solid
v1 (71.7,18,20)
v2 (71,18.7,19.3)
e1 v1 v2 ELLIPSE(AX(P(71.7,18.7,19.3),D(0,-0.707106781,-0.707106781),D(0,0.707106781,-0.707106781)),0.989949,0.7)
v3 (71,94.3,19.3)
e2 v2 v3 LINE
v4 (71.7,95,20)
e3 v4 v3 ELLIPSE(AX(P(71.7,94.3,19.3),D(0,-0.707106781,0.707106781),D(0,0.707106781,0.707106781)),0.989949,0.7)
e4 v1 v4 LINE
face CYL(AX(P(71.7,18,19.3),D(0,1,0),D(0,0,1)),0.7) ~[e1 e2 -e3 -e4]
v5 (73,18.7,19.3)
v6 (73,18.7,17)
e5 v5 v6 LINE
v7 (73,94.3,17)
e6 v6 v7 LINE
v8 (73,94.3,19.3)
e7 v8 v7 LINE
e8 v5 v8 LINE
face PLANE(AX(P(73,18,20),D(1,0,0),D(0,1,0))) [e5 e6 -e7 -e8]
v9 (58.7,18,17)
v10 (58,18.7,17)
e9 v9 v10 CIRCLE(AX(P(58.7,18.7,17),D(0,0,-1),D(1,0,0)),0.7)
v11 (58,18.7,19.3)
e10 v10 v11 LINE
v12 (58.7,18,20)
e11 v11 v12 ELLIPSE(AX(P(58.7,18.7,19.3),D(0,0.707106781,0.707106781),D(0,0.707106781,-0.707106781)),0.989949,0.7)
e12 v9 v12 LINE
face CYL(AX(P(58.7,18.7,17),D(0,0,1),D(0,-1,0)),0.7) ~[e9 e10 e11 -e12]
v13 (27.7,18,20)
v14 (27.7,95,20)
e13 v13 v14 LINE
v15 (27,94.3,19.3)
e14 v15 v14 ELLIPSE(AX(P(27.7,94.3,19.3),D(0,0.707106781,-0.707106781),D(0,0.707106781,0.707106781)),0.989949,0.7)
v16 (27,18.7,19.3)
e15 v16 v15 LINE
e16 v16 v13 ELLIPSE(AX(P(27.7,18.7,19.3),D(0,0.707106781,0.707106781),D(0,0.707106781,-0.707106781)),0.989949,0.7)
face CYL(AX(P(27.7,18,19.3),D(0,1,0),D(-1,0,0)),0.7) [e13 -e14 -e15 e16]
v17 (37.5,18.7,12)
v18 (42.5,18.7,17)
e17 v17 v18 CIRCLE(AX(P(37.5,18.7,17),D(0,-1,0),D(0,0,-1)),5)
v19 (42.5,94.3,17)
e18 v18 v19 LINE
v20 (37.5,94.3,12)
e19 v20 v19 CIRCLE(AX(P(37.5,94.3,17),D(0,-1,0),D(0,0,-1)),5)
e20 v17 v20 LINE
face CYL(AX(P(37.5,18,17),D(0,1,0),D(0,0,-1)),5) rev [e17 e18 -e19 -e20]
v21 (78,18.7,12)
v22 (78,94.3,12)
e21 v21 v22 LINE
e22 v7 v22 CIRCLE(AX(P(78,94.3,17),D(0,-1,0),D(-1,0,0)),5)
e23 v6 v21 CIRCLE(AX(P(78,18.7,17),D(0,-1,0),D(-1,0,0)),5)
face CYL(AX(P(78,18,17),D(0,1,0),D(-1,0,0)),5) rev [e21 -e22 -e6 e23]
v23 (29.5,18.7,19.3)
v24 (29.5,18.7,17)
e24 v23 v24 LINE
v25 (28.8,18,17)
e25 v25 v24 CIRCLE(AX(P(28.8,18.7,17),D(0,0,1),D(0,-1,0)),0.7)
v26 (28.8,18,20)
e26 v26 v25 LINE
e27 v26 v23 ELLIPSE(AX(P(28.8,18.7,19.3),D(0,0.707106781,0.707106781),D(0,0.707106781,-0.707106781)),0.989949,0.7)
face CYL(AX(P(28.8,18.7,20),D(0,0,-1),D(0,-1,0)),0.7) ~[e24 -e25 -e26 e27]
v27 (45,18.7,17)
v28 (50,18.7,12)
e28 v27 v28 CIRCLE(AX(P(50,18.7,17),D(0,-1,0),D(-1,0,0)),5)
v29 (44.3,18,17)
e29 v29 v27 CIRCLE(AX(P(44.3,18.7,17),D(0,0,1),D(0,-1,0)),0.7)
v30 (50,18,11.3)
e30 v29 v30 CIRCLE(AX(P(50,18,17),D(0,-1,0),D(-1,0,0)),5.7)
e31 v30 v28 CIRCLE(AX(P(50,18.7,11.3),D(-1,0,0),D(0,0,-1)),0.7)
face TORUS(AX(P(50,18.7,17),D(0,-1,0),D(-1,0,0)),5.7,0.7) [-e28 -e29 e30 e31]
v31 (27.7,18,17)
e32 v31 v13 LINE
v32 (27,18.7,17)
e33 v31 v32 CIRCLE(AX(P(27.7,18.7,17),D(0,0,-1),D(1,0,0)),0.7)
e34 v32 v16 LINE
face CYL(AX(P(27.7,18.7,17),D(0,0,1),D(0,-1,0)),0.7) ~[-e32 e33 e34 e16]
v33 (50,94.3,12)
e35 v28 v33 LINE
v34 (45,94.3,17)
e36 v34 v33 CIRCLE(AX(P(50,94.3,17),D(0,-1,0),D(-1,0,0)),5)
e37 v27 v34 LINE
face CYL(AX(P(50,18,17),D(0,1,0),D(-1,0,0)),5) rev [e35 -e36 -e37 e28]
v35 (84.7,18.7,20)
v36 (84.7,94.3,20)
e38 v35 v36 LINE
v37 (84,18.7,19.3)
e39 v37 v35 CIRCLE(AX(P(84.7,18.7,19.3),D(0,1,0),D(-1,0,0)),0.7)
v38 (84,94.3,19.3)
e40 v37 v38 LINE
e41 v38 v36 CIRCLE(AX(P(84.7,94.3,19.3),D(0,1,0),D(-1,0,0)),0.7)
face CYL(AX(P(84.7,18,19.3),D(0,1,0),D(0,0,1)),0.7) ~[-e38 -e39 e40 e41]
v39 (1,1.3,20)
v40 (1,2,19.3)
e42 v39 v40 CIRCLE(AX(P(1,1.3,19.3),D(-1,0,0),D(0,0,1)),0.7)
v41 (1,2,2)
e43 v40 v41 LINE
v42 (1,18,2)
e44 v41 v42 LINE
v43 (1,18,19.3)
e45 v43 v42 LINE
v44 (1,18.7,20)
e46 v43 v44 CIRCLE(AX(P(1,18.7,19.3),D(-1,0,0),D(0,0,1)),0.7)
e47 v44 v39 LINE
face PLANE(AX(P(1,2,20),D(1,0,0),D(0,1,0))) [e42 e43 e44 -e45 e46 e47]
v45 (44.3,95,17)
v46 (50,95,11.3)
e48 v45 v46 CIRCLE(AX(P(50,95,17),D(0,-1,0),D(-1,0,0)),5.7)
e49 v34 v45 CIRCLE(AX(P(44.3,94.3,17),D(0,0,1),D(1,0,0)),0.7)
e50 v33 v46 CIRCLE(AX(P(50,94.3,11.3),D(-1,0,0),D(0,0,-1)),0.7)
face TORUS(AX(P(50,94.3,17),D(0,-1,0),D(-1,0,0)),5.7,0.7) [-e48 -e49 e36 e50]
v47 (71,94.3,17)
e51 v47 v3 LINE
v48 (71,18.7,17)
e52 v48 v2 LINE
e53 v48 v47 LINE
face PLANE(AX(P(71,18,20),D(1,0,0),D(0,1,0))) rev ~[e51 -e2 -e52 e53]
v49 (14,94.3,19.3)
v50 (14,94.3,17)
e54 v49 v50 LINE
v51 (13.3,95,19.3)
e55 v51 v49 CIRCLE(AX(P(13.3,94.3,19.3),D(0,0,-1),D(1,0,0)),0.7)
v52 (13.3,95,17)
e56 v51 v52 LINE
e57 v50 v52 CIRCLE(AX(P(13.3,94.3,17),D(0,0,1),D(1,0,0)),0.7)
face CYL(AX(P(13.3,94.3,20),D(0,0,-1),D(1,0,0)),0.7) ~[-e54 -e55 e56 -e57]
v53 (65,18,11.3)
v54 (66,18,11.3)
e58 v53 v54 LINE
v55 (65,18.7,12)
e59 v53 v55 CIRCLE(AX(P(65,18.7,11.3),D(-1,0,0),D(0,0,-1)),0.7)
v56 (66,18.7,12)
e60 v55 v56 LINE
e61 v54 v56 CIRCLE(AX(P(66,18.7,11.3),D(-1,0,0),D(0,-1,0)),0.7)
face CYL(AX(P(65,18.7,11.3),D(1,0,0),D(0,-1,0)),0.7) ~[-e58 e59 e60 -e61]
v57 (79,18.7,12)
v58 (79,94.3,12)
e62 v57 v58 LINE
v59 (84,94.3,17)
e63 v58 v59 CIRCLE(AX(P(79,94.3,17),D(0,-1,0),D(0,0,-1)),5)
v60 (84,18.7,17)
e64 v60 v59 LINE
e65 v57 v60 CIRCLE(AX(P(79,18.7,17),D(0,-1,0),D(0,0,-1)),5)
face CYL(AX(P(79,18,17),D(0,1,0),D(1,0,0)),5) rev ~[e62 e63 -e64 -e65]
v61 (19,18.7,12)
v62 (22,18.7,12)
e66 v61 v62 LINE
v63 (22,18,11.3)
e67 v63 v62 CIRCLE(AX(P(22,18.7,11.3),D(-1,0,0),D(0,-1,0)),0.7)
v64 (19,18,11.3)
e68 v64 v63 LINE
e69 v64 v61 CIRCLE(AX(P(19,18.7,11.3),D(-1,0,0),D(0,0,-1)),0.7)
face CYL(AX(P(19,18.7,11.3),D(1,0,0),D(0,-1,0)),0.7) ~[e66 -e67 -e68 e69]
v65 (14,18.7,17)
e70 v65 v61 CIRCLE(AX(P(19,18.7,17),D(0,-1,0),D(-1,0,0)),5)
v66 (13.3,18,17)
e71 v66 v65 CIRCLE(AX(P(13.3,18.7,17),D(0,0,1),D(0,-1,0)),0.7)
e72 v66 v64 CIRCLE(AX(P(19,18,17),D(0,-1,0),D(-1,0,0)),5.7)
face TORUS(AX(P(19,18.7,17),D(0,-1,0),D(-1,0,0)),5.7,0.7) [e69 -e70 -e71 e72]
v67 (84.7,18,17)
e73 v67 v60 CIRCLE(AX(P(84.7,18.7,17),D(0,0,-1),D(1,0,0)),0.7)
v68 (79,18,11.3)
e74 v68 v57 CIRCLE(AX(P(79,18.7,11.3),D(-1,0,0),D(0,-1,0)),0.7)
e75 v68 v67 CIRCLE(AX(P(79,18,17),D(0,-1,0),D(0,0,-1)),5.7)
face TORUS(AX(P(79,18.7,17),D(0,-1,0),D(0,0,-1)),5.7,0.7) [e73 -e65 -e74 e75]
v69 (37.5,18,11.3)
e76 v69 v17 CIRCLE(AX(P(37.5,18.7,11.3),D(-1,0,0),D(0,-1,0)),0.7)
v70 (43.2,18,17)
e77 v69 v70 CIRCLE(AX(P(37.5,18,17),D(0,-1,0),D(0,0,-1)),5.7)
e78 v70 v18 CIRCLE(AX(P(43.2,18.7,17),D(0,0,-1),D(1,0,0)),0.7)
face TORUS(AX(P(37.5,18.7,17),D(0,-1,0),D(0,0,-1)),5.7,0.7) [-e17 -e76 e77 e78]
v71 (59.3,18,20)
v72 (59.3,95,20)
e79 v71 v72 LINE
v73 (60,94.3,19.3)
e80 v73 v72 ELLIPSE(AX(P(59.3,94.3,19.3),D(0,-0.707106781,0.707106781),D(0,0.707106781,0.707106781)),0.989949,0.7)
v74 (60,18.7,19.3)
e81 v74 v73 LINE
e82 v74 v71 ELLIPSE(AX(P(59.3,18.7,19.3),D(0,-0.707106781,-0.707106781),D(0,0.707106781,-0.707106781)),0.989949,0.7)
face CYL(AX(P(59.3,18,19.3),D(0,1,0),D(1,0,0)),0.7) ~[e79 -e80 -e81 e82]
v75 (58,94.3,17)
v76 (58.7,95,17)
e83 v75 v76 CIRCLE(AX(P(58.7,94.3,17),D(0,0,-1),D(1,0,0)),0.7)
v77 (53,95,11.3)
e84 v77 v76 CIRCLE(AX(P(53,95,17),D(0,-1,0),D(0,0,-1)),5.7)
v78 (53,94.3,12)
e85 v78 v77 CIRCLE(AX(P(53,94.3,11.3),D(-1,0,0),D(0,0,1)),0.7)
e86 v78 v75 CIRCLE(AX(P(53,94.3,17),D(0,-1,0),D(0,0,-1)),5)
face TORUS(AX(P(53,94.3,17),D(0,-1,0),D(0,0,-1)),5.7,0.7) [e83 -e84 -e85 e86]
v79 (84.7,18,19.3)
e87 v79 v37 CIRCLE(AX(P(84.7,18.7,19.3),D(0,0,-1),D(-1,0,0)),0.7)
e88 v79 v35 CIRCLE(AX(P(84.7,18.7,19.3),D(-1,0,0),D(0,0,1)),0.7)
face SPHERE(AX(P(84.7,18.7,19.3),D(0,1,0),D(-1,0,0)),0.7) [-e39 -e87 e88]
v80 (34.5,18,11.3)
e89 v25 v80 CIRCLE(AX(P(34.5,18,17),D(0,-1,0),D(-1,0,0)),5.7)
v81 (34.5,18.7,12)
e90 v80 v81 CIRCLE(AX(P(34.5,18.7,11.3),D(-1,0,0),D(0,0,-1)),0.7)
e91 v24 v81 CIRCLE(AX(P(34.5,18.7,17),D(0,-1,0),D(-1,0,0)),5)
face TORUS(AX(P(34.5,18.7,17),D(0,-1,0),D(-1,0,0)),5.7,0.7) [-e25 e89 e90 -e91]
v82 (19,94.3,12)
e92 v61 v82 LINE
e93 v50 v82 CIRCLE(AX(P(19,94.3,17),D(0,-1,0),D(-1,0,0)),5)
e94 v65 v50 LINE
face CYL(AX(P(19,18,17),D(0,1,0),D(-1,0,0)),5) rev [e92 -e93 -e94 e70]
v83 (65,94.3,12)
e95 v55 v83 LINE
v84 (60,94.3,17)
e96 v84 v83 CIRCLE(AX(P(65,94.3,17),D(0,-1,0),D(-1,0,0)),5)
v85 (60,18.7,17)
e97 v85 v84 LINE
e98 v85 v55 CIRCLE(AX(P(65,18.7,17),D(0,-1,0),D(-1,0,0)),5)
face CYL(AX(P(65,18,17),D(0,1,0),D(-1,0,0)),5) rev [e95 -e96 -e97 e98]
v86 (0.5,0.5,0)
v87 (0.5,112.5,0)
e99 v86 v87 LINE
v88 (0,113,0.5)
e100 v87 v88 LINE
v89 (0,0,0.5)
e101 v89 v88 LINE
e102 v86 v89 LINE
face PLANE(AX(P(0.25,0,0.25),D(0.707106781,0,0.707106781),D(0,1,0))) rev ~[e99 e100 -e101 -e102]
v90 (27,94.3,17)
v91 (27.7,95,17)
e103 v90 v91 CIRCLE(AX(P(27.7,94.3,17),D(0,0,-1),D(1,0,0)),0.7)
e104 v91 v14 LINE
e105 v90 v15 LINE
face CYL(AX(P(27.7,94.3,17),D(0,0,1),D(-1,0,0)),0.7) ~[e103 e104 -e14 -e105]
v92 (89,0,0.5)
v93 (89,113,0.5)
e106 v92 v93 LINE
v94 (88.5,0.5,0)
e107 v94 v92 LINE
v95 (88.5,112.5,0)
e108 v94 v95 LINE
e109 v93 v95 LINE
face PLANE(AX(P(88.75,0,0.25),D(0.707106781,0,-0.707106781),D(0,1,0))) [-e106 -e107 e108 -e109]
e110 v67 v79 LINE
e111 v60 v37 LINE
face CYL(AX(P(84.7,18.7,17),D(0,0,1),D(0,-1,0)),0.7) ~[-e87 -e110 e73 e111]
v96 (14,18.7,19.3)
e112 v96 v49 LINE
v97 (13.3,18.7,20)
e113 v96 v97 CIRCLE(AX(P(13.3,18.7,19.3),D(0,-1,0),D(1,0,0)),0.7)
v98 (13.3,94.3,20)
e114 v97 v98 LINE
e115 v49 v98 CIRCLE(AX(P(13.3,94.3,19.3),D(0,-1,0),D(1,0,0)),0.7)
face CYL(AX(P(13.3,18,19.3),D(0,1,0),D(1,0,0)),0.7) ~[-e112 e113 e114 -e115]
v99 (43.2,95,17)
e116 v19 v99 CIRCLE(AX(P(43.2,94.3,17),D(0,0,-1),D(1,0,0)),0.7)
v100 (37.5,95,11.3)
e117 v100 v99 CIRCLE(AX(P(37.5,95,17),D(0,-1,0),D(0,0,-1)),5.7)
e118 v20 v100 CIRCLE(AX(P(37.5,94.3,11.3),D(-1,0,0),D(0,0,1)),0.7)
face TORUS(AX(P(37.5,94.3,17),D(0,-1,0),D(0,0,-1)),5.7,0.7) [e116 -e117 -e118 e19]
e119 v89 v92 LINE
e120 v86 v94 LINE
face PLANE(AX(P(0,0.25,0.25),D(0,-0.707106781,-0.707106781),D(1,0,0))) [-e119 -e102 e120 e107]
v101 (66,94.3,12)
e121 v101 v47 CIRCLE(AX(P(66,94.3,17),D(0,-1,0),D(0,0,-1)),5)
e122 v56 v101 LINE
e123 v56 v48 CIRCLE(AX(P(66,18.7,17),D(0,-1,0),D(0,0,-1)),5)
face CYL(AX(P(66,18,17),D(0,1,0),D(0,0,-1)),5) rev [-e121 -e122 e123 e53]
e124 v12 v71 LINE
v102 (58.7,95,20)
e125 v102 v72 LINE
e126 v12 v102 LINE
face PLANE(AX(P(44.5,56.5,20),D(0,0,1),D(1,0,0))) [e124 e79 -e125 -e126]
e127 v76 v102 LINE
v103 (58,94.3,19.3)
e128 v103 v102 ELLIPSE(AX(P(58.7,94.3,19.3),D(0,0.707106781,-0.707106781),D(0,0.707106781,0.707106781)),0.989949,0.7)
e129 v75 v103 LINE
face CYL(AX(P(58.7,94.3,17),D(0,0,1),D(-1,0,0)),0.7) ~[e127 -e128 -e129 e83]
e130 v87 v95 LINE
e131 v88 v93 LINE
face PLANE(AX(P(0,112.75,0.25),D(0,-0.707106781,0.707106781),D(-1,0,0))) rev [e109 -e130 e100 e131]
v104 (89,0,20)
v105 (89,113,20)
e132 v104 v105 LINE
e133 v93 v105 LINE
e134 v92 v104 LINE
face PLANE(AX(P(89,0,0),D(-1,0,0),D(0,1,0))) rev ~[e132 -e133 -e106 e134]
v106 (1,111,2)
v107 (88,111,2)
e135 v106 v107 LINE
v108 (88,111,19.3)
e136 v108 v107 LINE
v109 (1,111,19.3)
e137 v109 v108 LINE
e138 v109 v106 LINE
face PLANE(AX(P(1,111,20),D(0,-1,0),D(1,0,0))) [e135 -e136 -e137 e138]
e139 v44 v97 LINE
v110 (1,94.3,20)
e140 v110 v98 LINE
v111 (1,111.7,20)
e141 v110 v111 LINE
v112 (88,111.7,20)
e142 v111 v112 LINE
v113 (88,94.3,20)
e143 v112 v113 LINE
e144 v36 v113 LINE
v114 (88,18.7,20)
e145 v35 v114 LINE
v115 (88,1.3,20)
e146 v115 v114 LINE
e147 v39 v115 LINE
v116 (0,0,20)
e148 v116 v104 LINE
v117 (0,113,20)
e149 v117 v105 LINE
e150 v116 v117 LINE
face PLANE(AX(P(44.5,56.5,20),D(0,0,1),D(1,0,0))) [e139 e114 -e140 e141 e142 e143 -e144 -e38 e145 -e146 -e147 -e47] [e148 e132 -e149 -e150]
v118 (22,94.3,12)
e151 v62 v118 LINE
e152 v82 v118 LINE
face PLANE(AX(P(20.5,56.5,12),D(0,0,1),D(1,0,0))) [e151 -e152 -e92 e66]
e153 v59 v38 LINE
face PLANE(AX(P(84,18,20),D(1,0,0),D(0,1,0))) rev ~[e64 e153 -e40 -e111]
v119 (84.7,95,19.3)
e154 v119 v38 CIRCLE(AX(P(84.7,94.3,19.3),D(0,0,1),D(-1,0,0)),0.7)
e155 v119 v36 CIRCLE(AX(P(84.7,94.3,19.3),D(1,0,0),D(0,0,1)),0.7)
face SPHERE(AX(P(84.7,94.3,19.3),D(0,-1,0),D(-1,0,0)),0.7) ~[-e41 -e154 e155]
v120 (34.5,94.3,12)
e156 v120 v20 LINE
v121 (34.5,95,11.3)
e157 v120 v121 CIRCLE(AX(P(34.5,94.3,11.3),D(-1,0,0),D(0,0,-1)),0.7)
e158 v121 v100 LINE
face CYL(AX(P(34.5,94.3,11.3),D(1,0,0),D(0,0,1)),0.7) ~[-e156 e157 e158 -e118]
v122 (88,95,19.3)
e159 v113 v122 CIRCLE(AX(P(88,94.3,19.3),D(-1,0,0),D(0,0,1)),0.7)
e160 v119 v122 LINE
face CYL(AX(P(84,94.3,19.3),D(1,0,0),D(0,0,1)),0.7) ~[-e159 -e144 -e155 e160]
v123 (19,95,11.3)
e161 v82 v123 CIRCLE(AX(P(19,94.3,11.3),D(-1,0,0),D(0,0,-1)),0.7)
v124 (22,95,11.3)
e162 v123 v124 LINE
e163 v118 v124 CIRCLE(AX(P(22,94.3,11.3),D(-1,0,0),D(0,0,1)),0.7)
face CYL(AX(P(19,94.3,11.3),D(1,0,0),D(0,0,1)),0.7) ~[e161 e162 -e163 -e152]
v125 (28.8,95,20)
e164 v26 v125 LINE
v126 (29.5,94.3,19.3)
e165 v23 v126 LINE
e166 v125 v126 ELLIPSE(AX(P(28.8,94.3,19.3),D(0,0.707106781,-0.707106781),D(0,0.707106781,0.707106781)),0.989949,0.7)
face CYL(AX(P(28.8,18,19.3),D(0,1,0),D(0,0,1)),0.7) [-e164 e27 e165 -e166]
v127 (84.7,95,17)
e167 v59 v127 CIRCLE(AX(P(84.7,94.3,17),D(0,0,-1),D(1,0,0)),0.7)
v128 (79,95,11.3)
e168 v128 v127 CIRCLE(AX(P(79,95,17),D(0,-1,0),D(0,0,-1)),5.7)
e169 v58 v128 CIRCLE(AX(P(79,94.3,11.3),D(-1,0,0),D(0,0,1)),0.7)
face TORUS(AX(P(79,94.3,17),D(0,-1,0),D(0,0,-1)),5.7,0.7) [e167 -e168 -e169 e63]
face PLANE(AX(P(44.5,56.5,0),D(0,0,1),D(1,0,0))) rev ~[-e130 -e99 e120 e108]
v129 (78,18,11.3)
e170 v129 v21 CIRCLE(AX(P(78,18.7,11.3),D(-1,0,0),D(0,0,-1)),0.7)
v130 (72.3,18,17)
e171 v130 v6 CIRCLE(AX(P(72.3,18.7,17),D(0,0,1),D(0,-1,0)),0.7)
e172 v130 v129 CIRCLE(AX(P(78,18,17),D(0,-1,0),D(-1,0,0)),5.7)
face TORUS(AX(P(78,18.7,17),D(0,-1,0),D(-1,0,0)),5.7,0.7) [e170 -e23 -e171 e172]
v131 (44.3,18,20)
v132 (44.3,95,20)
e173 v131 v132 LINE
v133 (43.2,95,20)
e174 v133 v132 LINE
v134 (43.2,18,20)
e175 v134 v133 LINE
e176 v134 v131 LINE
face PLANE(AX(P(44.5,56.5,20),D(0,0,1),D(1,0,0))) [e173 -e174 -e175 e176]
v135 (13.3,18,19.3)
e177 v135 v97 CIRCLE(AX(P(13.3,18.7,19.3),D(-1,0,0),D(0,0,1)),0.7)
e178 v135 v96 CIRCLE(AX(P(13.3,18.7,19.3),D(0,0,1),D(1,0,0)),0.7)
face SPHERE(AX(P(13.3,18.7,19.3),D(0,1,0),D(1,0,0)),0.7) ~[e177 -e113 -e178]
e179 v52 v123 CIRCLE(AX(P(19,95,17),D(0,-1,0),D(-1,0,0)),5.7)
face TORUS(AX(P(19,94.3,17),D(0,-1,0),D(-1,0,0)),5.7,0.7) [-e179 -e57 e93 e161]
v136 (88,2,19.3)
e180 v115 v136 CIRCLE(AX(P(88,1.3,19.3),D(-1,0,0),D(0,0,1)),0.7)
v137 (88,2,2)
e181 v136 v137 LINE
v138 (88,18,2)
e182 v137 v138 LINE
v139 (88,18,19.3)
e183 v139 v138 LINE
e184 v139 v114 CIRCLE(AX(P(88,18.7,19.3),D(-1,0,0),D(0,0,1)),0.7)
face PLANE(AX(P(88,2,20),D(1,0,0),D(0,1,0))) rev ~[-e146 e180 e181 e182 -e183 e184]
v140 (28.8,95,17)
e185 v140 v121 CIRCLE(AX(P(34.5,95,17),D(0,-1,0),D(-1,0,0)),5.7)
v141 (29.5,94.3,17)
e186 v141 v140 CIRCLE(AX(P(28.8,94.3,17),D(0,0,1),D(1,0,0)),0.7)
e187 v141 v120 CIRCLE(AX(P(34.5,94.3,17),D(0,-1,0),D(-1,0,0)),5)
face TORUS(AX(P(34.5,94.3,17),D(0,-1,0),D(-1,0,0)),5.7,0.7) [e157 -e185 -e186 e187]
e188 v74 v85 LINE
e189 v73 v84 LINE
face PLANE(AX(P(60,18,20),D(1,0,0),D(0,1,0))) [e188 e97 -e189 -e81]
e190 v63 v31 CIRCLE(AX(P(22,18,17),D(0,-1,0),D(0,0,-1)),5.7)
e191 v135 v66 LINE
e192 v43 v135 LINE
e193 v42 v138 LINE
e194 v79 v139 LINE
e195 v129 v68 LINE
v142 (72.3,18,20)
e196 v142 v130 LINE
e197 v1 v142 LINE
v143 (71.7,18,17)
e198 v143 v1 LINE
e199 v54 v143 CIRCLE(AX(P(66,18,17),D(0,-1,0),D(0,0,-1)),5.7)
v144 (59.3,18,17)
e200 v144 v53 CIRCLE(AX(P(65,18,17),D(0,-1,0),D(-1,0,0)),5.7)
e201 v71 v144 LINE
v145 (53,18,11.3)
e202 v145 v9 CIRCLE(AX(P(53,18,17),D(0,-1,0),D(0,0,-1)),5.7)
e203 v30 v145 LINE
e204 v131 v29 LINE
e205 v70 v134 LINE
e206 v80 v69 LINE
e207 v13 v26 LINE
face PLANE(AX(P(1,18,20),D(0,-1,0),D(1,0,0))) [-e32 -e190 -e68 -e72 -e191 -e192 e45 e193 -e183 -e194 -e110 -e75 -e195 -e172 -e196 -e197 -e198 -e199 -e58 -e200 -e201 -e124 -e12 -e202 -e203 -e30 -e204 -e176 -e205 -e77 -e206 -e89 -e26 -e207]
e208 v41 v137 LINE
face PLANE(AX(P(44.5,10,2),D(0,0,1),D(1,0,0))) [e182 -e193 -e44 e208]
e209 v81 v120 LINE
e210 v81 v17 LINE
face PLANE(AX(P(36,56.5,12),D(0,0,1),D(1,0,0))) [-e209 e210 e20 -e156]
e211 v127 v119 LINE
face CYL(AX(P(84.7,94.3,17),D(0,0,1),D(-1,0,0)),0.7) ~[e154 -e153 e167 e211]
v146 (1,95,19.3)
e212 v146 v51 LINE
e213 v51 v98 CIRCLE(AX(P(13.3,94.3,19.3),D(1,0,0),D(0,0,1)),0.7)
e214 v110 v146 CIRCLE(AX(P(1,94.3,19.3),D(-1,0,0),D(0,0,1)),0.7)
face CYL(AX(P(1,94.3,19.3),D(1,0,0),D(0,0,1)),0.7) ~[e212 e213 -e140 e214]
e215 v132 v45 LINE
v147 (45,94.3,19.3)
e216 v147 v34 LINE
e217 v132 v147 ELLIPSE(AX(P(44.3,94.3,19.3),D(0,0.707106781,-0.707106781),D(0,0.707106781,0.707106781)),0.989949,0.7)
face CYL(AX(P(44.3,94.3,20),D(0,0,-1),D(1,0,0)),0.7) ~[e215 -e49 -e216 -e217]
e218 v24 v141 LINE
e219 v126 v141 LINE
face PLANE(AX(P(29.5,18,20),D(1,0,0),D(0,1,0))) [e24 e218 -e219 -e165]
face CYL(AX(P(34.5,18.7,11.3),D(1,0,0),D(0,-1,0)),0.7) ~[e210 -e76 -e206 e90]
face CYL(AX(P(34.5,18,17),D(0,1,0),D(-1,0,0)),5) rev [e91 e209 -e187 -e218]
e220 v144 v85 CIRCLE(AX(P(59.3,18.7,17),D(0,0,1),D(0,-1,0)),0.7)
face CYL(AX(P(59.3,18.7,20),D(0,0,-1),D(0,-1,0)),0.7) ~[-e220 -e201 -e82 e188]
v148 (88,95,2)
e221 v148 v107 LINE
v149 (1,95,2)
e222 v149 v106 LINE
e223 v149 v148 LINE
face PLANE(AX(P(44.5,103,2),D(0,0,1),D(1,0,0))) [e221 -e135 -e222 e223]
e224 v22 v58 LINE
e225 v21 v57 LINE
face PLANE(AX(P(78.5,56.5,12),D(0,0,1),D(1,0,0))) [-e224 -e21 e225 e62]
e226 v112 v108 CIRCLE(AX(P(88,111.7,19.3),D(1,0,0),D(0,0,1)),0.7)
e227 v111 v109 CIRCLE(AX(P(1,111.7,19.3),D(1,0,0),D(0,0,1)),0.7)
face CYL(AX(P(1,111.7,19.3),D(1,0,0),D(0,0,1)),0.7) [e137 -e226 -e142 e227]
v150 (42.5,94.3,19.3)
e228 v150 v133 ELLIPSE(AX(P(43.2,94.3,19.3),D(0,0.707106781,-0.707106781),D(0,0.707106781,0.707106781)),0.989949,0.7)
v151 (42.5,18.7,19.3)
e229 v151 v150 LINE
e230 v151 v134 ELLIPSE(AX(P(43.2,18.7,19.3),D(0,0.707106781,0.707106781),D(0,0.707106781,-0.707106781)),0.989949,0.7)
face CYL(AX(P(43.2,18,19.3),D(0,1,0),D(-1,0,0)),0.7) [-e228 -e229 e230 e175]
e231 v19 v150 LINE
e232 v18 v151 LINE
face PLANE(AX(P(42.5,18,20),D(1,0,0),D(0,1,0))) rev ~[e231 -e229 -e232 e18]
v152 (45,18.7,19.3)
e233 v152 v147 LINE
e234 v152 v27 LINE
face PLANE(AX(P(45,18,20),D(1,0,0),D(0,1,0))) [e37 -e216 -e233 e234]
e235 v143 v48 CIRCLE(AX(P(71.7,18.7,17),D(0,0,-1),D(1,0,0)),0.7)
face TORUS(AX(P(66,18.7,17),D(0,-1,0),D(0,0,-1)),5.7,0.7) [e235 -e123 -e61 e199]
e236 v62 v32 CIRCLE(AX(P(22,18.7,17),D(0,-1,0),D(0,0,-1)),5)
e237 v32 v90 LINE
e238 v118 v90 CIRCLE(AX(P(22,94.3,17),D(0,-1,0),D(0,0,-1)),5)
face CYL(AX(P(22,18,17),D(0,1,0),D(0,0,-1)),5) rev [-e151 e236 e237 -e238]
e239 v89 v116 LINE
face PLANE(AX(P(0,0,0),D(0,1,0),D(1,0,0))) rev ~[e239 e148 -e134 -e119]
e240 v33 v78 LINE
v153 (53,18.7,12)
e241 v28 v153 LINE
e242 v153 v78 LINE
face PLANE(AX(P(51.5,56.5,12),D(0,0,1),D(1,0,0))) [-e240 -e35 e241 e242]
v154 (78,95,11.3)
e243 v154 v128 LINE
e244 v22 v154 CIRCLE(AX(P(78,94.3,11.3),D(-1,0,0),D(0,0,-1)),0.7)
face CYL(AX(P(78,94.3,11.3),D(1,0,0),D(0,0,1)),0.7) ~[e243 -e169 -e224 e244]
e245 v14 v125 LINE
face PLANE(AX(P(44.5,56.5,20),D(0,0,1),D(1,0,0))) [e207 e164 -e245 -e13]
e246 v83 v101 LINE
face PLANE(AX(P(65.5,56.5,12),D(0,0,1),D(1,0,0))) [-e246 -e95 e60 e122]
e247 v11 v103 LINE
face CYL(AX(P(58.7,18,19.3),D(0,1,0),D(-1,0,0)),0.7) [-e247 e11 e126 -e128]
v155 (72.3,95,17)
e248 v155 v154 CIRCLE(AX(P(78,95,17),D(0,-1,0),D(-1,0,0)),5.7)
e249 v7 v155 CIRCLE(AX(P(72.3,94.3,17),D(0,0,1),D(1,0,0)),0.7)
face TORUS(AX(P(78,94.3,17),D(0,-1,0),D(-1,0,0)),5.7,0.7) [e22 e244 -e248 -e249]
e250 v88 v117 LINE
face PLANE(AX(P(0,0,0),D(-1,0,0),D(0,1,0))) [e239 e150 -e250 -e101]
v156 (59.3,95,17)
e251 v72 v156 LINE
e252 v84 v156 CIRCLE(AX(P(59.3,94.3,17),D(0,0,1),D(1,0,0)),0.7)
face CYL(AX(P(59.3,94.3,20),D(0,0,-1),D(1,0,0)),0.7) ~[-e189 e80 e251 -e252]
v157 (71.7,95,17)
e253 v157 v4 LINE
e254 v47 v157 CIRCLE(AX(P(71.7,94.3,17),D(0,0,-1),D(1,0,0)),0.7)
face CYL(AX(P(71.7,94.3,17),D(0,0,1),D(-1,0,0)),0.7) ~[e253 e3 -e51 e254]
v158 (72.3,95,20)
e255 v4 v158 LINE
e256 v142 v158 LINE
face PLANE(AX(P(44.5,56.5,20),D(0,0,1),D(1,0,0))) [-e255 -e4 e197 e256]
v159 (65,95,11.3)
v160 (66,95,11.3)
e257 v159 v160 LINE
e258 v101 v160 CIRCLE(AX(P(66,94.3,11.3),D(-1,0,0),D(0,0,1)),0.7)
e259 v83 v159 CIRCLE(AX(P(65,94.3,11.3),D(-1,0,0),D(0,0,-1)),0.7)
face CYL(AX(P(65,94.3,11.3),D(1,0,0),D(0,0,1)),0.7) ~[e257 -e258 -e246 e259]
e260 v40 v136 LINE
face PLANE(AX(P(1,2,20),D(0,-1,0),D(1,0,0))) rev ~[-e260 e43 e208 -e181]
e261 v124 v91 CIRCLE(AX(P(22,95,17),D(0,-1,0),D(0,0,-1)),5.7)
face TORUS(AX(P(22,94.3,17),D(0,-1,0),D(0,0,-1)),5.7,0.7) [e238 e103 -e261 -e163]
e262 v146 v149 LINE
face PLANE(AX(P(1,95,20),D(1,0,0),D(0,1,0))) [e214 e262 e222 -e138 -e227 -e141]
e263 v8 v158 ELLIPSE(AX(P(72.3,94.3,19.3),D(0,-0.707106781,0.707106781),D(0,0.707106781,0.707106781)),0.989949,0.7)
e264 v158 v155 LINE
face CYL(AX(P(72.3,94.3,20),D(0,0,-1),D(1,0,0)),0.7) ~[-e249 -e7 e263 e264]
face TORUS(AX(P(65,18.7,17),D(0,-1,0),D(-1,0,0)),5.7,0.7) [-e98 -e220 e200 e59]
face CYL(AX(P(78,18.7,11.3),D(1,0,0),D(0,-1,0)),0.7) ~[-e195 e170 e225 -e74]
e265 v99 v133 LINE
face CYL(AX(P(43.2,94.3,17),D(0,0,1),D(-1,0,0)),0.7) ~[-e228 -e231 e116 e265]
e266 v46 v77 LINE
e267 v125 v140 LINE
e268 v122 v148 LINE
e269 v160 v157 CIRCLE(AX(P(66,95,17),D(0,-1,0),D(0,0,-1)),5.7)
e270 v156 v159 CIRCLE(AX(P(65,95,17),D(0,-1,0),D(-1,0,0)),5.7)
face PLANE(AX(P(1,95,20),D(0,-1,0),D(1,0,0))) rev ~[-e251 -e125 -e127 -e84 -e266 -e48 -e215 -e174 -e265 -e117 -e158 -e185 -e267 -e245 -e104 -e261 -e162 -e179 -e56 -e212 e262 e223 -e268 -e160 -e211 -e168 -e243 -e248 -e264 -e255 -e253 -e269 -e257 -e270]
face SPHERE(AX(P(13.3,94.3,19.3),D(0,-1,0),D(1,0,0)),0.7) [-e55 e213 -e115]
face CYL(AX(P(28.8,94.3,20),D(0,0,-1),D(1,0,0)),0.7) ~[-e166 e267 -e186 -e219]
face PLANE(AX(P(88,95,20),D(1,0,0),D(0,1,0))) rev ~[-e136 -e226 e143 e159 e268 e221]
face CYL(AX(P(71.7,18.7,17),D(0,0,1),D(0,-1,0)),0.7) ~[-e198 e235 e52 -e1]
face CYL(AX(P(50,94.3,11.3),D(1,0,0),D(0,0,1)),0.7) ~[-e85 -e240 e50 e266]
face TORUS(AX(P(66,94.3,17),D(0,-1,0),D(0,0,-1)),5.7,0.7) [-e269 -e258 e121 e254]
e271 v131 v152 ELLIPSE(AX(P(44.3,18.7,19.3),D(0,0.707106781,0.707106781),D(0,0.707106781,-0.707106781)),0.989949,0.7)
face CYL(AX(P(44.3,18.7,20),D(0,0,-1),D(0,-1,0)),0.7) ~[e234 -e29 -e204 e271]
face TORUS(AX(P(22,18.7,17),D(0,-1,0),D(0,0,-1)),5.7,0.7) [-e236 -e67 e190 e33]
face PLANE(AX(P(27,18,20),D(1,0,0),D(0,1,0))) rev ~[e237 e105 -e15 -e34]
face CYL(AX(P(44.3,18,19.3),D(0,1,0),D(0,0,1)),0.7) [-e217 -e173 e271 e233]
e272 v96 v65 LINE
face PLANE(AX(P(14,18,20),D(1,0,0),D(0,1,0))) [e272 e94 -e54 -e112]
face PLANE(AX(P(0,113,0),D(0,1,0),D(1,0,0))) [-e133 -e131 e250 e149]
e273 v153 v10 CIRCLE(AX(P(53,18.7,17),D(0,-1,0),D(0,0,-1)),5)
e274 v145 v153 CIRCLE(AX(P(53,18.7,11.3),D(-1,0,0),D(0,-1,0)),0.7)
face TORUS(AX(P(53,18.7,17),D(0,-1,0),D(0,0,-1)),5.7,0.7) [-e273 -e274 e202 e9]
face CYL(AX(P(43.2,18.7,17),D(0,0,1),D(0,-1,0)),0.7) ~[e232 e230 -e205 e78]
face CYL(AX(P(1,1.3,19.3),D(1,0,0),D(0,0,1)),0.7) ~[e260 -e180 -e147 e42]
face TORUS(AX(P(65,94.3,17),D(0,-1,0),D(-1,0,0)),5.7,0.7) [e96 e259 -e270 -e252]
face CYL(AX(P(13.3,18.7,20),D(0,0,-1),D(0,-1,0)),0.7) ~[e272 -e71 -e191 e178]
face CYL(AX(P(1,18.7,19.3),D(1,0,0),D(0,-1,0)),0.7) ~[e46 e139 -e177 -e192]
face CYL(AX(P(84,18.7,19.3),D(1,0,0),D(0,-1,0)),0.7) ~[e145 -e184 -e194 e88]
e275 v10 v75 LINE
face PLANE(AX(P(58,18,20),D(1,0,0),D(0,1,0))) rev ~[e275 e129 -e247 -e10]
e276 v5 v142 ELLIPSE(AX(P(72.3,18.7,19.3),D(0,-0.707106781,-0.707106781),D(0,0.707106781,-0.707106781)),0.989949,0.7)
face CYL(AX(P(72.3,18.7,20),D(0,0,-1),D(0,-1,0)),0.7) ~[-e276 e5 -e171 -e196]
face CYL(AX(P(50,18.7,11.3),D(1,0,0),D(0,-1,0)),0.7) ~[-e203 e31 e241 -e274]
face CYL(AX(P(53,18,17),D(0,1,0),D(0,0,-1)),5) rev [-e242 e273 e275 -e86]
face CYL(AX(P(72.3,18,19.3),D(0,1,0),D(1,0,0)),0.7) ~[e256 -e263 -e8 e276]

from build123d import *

# Parameters (mm, degrees)
SKETCH_W        = 89
SKETCH_H        = 113
PAD_DEPTH       = 20
SKETCH001_W     = 13
SKETCH001_H     = 77
SKETCH001_W_2   = 11
POCKET_DEPTH    = 8
SKETCH002_W     = 87
SKETCH002_H     = 16
POCKET001_DEPTH = 18
FILLET_R        = 5
FILLET001_R     = 0.7
CHAMFER_SIZE    = 0.5


with BuildPart() as part:
    # Sketch → Pad (new body)
    with BuildSketch(Plane.XY):
        with Locations((44.5, 56.5)):
            Rectangle(SKETCH_W, SKETCH_H)
    extrude(amount=PAD_DEPTH)

    # Sketch001 (on Face6 of Pad) → Pocket (cut)
    with BuildSketch(Plane.XY.offset(20)):
        with Locations((20.5, 56.5)):
            Rectangle(SKETCH001_W, SKETCH001_H)
        with Locations((36, 56.5)):
            Rectangle(SKETCH001_W, SKETCH001_H)
        with Locations((51.5, 56.5)):
            Rectangle(SKETCH001_W, SKETCH001_H)
        with Locations((65.5, 56.5)):
            Rectangle(SKETCH001_W_2, SKETCH001_H)
        with Locations((78.5, 56.5)):
            Rectangle(SKETCH001_W_2, SKETCH001_H)
    extrude(amount=-POCKET_DEPTH, mode=Mode.SUBTRACT)

    # Sketch002 (on Face5 of Pocket) → Pocket001 (cut)
    with BuildSketch(Plane.XY.offset(20)):
        with Locations((44.5, 10)):
            Rectangle(SKETCH002_W, SKETCH002_H)
        with Locations((44.5, 103)):
            Rectangle(SKETCH002_W, SKETCH002_H)
    extrude(amount=-POCKET001_DEPTH, mode=Mode.SUBTRACT)

    # Fillet
    fillet_edges = [part.edges().sort_by_distance(p)[0] for p in [
        (27, 56.5, 12),
        (14, 56.5, 12),
        (29.5, 56.5, 12),
        (45, 56.5, 12),
        (60, 56.5, 12),
        (73, 56.5, 12),
        (42.5, 56.5, 12),
        (58, 56.5, 12),
        (71, 56.5, 12),
        (84, 56.5, 12),
    ]]
    fillet(fillet_edges, radius=FILLET_R)

    # Fillet001
    fillet001_edges = [part.edges().sort_by_distance(p)[0] for p in [
        (14, 56.5, 20),
        (29.5, 56.5, 20),
        (27, 56.5, 20),
        (42.5, 56.5, 20),
        (58, 56.5, 20),
        (60, 56.5, 20),
        (71, 56.5, 20),
        (73, 56.5, 20),
        (84, 56.5, 20),
        (74.464466, 18, 13.464466),
        (61.464466, 18, 13.464466),
        (46.464466, 18, 13.464466),
        (30.964466, 18, 13.464466),
        (15.464466, 18, 13.464466),
        (15.464466, 95, 13.464466),
        (30.964466, 95, 13.464466),
        (45, 56.5, 20),
        (46.464466, 95, 13.464466),
        (61.464466, 95, 13.464466),
        (74.464466, 95, 13.464466),
        (44.5, 2, 20),
        (44.5, 111, 20),
        (7.5, 95, 20),
        (86, 95, 20),
        (86, 18, 20),
        (7.5, 18, 20),
    ]]
    fillet(fillet001_edges, radius=FILLET001_R)

    # Chamfer
    chamfer_edges = [part.edges().sort_by_distance(p)[0] for p in [
        (44.5, 0, 0),
        (0, 56.5, 0),
        (44.5, 113, 0),
        (89, 56.5, 0),
    ]]
    chamfer(chamfer_edges, length=CHAMFER_SIZE)


solid = part.part
